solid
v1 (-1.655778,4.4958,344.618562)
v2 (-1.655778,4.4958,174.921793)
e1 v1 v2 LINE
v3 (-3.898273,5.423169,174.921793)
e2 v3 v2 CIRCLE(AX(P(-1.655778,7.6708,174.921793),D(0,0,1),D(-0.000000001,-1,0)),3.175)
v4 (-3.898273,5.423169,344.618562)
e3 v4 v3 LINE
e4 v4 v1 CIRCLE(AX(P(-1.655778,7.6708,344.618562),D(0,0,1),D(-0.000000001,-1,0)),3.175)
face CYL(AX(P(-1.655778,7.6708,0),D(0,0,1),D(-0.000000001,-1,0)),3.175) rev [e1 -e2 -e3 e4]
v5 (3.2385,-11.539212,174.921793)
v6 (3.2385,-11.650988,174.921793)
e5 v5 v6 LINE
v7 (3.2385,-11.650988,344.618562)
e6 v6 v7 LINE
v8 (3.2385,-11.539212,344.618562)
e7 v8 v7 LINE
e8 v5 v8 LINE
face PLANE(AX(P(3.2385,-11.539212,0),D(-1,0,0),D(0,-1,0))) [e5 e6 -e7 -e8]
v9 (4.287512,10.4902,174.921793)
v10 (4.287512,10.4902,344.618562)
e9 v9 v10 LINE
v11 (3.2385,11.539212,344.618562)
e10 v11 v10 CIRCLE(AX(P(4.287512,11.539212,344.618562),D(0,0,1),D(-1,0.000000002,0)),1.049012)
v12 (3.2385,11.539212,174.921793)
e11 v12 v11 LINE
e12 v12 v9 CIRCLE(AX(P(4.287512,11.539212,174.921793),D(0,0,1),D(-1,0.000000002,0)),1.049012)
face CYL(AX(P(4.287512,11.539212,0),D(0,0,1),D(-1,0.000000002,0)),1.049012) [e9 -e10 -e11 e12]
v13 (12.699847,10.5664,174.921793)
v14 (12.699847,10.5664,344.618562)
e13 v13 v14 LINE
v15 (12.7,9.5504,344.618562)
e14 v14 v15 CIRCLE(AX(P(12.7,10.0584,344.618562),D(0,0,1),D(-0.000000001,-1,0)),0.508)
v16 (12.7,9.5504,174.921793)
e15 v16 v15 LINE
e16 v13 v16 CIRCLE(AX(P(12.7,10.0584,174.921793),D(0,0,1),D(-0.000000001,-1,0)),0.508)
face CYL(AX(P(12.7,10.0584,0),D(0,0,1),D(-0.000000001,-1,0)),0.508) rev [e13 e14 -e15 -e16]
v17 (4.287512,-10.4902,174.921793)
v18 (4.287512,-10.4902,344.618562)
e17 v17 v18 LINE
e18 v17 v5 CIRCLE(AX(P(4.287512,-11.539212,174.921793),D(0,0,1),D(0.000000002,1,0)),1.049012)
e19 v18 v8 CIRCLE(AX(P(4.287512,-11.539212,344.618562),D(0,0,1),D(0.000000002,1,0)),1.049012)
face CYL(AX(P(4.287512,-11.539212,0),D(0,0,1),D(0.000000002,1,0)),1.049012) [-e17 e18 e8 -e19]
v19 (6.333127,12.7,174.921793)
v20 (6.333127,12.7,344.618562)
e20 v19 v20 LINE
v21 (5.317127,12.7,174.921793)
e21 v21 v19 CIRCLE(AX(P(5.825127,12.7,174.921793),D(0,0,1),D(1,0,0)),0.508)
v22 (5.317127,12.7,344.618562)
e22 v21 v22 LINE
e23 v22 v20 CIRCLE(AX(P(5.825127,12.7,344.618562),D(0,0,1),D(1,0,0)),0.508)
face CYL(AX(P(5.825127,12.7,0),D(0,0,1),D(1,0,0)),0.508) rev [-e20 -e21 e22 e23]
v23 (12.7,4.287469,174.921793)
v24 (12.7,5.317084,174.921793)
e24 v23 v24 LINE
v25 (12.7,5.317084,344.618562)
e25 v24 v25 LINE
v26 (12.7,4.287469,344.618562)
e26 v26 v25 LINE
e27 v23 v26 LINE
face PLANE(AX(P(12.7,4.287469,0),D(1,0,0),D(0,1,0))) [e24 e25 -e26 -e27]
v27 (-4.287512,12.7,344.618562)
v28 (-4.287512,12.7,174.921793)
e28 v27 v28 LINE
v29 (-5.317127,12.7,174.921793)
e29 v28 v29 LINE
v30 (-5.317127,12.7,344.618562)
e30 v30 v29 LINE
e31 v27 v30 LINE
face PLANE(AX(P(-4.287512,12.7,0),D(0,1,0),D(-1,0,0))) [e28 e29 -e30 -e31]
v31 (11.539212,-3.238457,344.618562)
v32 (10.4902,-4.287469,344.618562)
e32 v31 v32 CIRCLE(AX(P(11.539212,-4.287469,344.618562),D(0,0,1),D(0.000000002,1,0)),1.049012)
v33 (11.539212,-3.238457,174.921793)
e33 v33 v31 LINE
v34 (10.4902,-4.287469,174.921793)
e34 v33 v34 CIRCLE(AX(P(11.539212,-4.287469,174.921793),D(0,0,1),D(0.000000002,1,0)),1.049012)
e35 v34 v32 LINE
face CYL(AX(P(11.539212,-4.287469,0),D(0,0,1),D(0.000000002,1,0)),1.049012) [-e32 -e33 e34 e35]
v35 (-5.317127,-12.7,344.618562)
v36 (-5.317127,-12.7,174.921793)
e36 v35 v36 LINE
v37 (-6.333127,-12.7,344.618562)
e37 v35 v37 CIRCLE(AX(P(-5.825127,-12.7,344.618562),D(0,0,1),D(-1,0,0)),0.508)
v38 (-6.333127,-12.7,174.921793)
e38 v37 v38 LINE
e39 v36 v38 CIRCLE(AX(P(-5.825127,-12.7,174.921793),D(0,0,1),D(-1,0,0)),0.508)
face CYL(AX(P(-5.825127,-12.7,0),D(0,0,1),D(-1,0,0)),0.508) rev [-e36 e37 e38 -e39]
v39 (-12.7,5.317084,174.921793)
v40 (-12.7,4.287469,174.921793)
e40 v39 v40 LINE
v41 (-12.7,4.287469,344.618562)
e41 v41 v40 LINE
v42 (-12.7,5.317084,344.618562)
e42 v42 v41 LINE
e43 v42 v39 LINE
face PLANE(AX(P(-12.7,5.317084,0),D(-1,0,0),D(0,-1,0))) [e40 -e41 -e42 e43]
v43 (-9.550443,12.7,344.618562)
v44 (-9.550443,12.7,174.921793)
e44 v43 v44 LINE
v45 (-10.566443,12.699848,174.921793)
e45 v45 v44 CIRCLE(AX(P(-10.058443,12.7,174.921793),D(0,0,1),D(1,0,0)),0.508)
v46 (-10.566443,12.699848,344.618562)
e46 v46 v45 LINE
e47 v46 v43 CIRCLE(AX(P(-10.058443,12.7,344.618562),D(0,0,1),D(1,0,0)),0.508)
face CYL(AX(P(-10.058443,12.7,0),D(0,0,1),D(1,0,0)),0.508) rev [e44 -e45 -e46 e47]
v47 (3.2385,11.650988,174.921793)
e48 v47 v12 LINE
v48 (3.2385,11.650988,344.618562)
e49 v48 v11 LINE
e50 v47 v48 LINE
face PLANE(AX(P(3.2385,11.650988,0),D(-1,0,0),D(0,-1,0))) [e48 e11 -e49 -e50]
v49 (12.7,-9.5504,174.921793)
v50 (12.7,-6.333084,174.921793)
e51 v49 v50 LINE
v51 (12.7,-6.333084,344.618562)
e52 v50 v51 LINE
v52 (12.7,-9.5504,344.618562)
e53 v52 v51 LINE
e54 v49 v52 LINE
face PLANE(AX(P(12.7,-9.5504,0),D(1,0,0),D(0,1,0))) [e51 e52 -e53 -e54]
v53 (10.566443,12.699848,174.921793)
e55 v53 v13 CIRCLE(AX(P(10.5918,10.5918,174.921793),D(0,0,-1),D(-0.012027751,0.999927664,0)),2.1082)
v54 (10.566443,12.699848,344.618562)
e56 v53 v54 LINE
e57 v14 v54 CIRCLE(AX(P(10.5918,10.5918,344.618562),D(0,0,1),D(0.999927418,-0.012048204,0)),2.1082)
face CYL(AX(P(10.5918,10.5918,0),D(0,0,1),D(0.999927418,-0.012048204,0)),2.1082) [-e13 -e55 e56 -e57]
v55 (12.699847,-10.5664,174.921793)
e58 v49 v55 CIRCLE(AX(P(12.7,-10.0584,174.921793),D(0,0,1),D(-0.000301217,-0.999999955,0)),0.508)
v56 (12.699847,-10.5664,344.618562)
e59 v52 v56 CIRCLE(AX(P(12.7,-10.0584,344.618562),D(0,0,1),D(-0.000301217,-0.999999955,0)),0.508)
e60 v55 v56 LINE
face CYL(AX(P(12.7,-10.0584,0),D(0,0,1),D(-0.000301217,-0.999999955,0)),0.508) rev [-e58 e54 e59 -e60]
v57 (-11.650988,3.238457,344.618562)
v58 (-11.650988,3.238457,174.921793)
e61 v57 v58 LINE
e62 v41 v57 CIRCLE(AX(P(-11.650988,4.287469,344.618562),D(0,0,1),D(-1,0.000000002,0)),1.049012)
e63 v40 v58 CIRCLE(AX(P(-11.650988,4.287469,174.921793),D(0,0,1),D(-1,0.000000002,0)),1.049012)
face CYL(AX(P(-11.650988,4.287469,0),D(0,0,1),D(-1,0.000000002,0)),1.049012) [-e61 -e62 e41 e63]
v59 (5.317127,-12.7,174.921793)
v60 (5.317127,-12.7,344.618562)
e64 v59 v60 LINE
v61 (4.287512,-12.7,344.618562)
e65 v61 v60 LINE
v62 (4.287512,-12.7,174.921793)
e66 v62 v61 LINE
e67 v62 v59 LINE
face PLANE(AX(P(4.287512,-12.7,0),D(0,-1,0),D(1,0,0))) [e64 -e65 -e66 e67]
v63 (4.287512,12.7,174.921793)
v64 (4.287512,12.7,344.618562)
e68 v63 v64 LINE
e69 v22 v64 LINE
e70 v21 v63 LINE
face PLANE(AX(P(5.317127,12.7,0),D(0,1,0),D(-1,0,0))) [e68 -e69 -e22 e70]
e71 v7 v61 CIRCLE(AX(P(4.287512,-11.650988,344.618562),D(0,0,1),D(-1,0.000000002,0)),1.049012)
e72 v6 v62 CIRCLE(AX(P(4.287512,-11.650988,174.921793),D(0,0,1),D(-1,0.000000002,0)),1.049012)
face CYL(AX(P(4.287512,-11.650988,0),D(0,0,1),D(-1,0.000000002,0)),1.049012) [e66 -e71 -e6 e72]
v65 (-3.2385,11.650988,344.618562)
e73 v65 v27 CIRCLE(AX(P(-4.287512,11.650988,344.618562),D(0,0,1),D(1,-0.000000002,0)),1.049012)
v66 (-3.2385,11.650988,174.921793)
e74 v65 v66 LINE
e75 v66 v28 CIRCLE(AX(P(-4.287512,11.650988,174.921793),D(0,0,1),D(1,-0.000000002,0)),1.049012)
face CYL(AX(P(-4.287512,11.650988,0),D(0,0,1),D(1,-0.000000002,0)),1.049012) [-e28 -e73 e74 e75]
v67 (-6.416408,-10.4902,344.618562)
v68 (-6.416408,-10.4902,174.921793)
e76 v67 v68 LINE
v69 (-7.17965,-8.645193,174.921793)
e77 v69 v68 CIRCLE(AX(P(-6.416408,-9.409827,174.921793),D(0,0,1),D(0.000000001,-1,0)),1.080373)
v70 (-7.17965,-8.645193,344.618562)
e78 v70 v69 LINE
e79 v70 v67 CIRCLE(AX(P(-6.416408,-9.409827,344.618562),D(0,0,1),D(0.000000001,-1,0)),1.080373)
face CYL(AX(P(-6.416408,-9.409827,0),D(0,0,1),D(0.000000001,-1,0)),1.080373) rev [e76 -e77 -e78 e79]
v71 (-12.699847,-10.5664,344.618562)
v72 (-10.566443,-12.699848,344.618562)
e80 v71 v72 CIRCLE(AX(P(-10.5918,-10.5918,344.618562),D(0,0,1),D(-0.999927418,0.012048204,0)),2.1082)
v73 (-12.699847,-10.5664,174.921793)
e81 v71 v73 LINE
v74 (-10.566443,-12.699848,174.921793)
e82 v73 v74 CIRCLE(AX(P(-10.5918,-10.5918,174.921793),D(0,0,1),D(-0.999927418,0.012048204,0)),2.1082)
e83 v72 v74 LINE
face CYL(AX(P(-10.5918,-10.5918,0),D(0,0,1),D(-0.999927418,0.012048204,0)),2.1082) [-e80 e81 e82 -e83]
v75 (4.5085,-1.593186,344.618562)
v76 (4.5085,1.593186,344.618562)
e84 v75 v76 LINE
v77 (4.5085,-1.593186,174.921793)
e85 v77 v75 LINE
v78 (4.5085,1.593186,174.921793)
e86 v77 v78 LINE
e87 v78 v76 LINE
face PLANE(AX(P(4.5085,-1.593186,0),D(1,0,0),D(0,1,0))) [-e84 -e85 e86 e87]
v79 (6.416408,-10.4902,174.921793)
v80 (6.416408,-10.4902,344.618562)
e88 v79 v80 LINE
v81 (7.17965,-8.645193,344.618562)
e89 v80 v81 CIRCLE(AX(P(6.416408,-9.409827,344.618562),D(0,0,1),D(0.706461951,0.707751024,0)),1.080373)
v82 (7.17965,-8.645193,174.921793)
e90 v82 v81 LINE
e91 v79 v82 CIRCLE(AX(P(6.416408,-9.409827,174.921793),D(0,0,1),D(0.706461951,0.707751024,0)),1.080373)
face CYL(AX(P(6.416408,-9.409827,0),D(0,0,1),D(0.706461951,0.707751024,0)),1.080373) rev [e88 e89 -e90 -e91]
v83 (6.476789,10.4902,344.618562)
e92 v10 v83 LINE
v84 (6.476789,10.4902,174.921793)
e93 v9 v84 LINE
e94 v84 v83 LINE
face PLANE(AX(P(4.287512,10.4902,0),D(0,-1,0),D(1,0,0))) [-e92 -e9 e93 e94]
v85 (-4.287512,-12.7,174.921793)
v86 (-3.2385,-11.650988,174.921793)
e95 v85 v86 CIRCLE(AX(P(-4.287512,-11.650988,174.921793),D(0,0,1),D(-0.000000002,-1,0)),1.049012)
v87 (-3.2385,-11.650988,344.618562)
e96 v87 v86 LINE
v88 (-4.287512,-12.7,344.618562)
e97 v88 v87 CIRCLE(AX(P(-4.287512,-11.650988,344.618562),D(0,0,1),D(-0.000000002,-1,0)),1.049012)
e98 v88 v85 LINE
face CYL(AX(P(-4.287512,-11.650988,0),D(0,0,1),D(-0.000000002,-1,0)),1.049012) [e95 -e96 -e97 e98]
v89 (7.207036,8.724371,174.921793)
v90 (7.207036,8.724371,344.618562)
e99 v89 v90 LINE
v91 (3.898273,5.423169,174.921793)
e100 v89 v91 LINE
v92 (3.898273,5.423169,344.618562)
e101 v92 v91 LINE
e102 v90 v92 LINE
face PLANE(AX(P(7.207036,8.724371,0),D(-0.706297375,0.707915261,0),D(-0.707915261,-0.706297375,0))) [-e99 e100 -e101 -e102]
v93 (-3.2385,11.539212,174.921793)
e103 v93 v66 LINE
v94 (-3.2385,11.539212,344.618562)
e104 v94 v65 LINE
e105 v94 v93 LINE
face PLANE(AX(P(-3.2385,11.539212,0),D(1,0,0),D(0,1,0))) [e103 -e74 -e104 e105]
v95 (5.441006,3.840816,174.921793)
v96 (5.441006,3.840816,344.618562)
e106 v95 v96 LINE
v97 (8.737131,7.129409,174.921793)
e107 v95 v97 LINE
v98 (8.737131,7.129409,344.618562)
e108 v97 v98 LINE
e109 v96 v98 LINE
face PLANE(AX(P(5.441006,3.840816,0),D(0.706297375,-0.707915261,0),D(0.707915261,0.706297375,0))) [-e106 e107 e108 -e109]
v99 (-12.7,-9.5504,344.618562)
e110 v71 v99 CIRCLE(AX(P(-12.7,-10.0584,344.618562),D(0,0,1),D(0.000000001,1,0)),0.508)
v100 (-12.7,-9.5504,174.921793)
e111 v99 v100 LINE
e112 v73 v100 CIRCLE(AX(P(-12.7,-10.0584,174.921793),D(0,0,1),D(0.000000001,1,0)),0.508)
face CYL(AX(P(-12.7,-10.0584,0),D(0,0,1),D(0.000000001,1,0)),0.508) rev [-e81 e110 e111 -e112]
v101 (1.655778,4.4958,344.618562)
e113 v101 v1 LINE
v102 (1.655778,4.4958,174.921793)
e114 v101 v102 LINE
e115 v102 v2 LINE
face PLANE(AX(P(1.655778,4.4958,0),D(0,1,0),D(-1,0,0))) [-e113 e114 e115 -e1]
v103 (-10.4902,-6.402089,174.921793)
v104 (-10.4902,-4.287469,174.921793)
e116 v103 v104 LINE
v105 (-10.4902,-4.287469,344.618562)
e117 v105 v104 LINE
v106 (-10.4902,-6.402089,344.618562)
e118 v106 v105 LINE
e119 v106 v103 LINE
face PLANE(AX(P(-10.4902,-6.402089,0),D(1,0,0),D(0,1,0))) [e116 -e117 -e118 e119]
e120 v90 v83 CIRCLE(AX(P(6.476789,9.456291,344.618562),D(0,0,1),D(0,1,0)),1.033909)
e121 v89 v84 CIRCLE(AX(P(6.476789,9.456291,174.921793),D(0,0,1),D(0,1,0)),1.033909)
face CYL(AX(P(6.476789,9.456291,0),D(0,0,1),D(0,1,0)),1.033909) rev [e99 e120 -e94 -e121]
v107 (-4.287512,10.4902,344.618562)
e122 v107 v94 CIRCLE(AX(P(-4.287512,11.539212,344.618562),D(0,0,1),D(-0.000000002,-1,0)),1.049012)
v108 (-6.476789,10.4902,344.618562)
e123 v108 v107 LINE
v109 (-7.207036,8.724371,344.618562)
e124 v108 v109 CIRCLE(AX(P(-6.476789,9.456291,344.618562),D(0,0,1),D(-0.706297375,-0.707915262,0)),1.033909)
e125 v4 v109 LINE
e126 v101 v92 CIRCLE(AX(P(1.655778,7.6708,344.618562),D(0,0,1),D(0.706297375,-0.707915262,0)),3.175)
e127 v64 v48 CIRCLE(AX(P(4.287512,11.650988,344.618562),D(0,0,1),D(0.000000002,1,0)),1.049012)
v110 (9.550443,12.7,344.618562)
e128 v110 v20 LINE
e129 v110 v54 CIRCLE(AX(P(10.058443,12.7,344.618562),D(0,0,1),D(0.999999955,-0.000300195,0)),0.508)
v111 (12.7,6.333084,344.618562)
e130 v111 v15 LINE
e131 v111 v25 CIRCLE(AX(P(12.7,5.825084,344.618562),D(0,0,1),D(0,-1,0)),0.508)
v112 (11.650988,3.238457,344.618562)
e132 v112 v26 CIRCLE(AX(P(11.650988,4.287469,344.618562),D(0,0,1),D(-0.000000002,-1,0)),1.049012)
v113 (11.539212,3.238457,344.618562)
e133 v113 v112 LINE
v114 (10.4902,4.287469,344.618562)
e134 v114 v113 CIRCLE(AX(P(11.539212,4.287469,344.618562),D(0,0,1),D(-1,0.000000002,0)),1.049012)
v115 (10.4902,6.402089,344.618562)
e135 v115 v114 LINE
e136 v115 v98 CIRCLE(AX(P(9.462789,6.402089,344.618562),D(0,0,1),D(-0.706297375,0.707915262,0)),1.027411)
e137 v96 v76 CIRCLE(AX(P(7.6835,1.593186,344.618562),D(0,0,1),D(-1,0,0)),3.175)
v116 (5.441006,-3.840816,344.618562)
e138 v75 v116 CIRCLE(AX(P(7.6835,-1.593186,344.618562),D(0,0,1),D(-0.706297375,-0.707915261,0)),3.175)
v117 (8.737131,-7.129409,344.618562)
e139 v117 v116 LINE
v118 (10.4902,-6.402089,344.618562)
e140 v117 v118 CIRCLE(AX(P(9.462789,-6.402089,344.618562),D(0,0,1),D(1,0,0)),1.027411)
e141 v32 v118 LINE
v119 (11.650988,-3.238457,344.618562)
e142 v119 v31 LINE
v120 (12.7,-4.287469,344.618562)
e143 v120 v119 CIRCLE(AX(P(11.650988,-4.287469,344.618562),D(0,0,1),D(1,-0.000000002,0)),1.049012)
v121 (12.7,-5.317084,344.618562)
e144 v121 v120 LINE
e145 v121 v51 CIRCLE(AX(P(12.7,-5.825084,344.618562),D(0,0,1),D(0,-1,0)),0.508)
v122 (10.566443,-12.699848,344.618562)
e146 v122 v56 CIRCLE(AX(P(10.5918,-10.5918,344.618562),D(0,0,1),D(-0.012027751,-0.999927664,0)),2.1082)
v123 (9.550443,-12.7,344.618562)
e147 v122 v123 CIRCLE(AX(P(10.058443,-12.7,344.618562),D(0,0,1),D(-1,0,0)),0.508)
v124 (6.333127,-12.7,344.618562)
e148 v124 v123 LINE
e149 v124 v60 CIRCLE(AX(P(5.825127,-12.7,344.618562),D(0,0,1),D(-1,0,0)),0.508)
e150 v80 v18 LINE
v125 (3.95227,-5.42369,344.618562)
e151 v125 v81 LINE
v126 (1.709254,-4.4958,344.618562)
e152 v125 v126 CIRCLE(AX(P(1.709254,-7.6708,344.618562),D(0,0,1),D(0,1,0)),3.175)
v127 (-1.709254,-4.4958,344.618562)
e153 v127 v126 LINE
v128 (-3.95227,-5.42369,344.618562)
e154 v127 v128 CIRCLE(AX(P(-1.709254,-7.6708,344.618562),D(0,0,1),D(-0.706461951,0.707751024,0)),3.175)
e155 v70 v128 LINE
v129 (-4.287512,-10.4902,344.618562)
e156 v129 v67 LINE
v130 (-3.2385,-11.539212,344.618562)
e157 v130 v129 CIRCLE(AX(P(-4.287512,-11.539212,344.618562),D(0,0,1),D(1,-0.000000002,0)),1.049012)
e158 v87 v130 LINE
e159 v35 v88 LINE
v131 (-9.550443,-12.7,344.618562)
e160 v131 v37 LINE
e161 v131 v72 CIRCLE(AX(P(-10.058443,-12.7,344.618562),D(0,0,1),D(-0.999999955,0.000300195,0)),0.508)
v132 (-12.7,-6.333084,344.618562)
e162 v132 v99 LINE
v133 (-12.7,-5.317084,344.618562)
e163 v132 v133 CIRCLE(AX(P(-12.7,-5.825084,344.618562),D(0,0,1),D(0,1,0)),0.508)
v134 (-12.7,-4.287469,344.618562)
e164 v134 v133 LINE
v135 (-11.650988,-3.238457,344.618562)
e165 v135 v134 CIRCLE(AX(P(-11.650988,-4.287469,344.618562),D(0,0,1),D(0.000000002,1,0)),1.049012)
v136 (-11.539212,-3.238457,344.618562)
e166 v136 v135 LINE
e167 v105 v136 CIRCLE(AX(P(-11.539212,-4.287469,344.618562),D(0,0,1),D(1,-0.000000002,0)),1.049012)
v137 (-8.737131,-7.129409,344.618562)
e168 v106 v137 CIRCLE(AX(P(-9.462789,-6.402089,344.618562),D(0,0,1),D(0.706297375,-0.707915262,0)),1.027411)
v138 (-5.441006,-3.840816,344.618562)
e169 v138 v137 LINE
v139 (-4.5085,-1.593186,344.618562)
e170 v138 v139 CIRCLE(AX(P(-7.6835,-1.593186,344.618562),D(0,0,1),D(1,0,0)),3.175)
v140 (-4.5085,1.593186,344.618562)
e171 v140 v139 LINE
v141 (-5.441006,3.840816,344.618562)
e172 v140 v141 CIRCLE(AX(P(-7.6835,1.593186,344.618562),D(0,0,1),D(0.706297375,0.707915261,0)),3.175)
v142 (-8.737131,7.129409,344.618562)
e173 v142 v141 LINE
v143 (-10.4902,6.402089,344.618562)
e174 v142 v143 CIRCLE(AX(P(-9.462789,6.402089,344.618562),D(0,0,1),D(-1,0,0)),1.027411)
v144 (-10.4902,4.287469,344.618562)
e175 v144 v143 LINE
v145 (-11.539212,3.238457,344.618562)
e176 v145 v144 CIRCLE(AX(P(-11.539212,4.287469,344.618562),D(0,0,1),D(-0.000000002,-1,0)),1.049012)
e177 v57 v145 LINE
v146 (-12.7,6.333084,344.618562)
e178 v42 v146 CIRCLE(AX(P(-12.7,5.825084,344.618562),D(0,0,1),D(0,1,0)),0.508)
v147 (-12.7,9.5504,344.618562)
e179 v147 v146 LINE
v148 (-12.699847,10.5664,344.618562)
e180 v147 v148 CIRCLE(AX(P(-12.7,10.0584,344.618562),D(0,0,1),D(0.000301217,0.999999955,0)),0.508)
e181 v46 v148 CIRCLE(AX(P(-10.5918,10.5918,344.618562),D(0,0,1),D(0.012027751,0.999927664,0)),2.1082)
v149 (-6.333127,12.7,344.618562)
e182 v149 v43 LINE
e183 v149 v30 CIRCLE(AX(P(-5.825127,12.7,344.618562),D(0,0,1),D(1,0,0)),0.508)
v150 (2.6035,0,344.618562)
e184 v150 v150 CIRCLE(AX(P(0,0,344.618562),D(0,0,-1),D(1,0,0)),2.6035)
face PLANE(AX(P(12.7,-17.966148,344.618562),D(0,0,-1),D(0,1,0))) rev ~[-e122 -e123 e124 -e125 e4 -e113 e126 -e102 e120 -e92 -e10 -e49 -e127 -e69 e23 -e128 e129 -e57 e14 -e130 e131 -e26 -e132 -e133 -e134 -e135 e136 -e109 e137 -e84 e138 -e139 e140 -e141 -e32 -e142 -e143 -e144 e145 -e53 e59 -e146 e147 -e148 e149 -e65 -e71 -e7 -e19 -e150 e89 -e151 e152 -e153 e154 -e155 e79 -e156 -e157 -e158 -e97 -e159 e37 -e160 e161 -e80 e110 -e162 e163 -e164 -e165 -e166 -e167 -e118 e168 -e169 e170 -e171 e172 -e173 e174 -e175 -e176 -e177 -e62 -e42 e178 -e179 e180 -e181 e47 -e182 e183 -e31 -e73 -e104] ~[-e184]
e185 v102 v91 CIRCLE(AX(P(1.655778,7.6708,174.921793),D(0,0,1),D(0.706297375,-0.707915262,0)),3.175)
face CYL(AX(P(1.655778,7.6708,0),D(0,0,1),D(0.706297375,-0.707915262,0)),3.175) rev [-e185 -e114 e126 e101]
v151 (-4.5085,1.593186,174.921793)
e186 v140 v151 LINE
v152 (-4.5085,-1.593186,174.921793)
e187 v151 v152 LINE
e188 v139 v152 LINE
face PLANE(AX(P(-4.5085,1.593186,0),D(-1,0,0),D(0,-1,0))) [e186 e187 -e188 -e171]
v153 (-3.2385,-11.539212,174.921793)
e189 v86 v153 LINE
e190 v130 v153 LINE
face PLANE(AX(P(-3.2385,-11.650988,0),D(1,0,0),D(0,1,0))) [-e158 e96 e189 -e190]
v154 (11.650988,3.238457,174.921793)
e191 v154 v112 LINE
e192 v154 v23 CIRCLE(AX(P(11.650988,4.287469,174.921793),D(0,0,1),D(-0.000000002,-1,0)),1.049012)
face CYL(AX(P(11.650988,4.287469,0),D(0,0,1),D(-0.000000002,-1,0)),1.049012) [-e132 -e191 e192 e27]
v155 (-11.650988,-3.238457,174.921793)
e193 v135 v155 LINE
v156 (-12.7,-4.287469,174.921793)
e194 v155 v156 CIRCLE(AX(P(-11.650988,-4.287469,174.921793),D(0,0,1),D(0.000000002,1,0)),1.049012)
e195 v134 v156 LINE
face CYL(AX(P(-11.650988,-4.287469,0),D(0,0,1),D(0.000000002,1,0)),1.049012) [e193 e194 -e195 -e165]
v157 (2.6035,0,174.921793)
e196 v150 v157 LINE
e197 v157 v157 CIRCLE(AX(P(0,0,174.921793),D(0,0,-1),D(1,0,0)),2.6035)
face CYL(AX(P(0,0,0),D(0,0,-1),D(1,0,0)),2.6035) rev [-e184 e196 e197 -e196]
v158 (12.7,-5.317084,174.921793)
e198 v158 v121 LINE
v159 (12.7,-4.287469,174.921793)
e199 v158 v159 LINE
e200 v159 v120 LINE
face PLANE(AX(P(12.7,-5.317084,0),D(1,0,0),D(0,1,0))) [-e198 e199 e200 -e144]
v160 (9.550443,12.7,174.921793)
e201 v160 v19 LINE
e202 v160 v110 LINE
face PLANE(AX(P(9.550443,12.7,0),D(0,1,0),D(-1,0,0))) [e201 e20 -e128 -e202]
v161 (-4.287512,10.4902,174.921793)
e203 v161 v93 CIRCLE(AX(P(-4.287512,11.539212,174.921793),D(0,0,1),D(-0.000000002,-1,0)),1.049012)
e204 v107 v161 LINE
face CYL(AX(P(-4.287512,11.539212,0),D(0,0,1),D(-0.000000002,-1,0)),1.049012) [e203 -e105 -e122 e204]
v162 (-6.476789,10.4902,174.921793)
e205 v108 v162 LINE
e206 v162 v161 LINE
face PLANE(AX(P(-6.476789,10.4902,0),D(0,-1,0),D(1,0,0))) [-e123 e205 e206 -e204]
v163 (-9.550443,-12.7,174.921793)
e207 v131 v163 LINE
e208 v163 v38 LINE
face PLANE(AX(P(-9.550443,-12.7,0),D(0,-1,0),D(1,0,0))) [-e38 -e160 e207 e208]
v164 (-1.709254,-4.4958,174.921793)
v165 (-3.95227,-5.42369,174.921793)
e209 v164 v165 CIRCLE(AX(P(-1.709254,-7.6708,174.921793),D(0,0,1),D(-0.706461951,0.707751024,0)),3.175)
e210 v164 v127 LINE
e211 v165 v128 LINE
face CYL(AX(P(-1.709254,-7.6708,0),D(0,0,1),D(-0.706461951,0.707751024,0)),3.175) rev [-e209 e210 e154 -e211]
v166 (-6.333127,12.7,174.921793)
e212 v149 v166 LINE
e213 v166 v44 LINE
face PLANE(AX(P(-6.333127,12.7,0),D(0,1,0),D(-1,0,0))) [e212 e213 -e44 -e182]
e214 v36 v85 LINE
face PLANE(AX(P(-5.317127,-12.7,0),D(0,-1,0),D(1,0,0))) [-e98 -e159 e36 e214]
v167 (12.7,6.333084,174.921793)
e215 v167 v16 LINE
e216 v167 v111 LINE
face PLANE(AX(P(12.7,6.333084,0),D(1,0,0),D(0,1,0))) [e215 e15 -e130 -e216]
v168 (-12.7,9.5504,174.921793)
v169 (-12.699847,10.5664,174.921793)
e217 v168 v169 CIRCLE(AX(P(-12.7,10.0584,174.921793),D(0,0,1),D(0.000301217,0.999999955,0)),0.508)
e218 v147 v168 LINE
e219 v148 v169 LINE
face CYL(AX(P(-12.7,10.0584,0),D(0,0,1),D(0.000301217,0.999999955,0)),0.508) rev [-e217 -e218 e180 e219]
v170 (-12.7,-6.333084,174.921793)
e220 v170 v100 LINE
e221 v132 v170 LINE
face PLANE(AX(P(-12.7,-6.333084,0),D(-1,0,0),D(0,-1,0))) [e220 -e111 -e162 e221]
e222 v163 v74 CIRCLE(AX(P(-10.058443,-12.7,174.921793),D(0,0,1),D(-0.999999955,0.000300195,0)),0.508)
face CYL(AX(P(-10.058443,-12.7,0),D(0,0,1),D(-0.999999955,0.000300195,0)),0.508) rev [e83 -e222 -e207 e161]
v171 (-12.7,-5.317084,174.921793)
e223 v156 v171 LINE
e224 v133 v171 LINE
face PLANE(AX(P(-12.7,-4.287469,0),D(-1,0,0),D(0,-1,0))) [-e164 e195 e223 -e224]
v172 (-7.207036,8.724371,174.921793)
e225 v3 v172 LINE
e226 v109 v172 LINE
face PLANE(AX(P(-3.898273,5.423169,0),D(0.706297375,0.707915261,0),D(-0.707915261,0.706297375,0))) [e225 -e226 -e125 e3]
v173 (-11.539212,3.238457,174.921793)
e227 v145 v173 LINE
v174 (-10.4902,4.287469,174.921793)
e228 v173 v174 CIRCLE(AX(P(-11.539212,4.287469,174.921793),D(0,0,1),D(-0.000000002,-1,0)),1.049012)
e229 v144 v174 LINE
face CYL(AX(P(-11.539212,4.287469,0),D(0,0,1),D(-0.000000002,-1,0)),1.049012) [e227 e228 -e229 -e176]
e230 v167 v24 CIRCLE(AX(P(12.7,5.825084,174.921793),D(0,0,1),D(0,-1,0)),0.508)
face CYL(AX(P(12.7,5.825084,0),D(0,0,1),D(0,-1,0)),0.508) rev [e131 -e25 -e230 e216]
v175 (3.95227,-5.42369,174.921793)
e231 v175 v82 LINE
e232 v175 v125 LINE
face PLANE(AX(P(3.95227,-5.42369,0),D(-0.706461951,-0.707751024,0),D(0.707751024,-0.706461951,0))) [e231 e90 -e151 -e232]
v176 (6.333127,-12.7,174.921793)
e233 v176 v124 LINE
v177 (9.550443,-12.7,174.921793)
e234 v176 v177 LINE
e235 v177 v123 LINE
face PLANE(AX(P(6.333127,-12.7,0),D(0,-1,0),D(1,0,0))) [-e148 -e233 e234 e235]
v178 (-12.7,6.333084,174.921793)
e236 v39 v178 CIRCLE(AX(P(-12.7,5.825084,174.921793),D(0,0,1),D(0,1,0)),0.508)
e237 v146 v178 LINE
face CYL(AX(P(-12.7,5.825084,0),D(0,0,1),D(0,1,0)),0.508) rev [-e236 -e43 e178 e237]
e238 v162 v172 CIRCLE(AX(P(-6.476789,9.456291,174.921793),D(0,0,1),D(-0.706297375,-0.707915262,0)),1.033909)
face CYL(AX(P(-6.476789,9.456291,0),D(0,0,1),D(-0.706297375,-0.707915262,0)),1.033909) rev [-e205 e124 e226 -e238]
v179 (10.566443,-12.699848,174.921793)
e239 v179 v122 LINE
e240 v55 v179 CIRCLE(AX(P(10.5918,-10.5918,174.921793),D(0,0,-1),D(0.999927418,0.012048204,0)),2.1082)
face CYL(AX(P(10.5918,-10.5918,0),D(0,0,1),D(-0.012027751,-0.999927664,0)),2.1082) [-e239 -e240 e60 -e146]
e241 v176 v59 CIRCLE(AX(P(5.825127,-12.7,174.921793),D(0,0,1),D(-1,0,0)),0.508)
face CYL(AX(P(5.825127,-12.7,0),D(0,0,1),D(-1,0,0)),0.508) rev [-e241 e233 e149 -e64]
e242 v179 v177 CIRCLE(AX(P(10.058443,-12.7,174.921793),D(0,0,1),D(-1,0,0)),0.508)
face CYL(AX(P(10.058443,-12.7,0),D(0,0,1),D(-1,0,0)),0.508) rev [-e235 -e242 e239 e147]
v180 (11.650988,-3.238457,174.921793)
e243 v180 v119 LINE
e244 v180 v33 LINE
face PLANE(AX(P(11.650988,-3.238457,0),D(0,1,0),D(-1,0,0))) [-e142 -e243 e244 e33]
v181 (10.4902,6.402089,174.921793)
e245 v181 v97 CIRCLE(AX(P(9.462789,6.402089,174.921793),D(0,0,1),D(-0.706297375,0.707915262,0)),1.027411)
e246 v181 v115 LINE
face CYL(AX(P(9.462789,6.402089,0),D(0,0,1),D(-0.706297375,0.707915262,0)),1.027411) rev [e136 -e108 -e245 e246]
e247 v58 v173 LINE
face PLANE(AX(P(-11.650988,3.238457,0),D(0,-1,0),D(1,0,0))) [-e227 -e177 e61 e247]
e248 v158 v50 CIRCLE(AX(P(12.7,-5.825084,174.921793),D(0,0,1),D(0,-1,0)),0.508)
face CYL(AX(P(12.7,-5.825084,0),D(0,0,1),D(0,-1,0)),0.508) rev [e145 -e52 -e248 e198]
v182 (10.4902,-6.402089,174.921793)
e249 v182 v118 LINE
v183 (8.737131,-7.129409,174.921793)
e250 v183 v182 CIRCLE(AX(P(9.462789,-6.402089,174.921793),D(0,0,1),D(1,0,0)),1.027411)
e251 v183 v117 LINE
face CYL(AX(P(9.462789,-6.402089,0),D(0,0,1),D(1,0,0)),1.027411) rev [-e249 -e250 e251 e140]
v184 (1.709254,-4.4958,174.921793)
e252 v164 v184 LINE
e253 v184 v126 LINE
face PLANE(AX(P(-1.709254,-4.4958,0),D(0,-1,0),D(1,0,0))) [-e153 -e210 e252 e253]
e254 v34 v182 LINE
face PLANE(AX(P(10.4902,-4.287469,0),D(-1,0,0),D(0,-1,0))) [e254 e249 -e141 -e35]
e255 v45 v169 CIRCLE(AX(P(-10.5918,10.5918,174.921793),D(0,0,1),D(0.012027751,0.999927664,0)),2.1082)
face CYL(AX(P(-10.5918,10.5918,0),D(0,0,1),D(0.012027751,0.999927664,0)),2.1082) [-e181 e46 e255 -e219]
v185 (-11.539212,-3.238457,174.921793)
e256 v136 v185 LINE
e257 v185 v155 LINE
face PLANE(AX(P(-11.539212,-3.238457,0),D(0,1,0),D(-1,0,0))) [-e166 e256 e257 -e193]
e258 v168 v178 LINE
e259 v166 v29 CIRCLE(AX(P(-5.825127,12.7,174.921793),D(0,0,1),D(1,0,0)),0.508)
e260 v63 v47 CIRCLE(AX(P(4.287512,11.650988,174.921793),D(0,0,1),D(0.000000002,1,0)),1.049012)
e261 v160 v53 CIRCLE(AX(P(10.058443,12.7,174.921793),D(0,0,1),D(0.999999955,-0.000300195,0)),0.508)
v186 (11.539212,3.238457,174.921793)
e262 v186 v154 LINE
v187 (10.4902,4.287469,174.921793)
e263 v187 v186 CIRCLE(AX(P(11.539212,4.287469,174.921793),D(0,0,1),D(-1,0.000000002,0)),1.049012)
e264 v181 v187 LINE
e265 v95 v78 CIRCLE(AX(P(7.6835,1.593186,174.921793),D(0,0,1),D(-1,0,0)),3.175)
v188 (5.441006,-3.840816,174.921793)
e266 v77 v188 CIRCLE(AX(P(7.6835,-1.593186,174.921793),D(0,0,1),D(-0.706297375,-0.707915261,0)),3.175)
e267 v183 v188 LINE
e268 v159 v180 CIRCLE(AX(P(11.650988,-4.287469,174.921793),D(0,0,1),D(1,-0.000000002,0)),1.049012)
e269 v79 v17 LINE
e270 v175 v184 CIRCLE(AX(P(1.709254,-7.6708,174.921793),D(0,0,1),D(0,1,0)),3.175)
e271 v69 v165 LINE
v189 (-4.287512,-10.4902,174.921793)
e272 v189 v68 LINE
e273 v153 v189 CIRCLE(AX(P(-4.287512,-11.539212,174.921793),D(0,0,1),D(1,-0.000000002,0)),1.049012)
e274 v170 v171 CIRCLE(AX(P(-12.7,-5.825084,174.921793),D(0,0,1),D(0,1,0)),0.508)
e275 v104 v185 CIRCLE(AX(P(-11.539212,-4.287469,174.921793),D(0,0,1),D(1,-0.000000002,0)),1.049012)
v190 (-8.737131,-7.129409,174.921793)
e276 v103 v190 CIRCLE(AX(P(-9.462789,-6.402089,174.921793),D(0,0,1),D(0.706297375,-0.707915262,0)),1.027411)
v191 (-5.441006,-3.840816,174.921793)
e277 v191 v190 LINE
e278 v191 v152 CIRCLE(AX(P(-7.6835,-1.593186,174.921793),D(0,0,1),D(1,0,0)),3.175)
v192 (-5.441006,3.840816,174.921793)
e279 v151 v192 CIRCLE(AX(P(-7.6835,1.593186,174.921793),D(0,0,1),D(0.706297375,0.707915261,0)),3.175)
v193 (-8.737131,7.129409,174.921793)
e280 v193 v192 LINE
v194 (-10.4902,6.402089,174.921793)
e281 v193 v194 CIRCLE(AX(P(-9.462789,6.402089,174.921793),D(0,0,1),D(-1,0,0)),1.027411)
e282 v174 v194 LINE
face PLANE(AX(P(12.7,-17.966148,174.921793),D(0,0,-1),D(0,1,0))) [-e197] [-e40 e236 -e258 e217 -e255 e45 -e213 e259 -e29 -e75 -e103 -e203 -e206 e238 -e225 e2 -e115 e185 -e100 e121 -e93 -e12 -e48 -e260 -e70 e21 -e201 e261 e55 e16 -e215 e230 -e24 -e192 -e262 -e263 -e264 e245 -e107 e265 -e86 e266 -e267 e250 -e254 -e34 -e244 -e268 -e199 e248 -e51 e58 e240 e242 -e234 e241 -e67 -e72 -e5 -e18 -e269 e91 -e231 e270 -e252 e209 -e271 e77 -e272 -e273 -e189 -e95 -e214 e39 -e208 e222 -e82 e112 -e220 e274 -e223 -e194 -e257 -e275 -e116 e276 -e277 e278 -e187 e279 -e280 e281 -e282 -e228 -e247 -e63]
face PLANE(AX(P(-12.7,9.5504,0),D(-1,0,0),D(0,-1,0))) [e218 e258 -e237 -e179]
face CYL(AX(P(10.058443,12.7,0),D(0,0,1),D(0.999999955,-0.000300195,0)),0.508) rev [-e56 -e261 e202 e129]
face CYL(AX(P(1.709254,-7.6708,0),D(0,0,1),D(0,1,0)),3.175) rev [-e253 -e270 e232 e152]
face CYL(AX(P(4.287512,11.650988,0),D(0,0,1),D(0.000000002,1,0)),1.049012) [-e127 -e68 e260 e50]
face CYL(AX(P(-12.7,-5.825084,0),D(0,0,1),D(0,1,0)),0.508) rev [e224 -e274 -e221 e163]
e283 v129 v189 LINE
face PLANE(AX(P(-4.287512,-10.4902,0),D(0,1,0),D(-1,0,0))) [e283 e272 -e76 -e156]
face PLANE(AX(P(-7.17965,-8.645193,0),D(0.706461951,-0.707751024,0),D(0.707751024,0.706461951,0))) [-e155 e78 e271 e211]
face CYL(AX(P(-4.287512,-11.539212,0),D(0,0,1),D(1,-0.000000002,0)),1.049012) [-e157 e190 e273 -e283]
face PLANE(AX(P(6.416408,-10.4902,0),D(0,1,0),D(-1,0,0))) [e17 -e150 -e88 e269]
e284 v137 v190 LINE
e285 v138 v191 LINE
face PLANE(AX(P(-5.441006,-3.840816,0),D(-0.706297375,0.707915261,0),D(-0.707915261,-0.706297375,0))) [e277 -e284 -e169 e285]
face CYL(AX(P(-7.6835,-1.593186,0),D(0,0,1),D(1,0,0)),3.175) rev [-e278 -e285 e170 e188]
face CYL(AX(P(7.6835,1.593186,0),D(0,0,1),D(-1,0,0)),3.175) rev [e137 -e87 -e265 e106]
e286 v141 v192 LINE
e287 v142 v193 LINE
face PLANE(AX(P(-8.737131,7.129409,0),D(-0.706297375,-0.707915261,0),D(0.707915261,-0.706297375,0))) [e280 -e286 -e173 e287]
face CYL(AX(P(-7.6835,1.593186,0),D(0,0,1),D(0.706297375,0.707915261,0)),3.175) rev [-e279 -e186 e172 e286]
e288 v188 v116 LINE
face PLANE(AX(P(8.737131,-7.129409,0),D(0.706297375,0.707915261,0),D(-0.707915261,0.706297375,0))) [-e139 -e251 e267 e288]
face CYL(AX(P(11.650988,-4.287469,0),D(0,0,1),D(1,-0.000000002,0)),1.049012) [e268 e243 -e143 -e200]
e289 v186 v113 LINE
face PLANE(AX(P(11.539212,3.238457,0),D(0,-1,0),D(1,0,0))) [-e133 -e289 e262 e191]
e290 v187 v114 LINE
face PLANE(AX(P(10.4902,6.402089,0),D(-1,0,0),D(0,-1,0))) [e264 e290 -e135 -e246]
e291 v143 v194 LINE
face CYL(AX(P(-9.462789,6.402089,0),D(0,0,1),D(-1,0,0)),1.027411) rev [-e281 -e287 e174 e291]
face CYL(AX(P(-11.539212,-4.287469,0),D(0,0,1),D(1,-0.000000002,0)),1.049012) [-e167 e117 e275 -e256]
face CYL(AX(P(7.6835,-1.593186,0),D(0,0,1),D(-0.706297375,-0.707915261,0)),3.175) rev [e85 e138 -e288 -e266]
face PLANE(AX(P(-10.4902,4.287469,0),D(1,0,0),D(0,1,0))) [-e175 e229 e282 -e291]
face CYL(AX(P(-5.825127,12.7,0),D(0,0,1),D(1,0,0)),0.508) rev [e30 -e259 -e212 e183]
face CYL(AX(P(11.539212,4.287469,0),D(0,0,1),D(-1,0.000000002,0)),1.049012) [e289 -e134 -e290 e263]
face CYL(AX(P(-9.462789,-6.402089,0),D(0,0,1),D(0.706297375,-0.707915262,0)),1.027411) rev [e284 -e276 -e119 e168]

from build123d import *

# Parameters (mm, degrees)
SKETCH1_R           = 2.6035
BOSS_EXTRUDE1_DEPTH = 914.4
SKETCH2_W           = 573.8387108
SKETCH2_H           = 34.760821459
SKETCH2_W_2         = 1099.97900941
SKETCH2_H_2         = 36.169365112
CUT_EXTRUDE1_DEPTH  = 27.432


with BuildPart() as part:
    # Sketch1 → Boss-Extrude1 (new body, symmetric)
    with BuildSketch(Plane.XY):
        with BuildLine():
            Line((-7.179650497, -8.645192506), (-3.952270251, -5.423690499))
            ThreePointArc((-3.952270251, -5.423690499), (-2.922936451, -4.736929036), (-1.709253557, -4.4958))
            Line((-1.709253557, -4.4958), (1.709253557, -4.4958))
            ThreePointArc((1.709253557, -4.4958), (2.922936451, -4.736929036), (3.952270251, -5.423690499))
            Line((3.952270251, -5.423690499), (7.179650497, -8.645192506))
            ThreePointArc((7.179650497, -8.645192506), (7.41473083, -9.822813117), (6.416408329, -10.4902))
            Line((6.416408329, -10.4902), (4.287512407, -10.4902))
            ThreePointArc((4.287512407, -10.4902), (3.54574862, -10.79744862), (3.2385, -11.539212407))
            Line((3.2385, -11.539212407), (3.2385, -11.650987593))
            ThreePointArc((3.2385, -11.650987593), (3.54574862, -12.39275138), (4.287512407, -12.7))
            Line((4.287512407, -12.7), (5.317126718, -12.7))
            ThreePointArc((5.317126718, -12.7), (5.825126718, -12.192), (6.333126718, -12.7))
            Line((6.333126718, -12.7), (9.550443118, -12.7))
            ThreePointArc((9.550443118, -12.7), (10.058366869, -12.192000006), (10.566443095, -12.699847501))
            ThreePointArc((10.566443095, -12.699847501), (12.082537762, -12.08250727), (12.699846982, -10.566399977))
            ThreePointArc((12.699846982, -10.566399977), (12.192000006, -10.058323491), (12.7, -9.5504))
            Line((12.7, -9.5504), (12.7, -6.3330836))
            ThreePointArc((12.7, -6.3330836), (12.192, -5.8250836), (12.7, -5.3170836))
            Line((12.7, -5.3170836), (12.7, -4.287469289))
            ThreePointArc((12.7, -4.287469289), (12.39275138, -3.545705502), (11.650987593, -3.238456882))
            Line((11.650987593, -3.238456882), (11.539212407, -3.238456882))
            ThreePointArc((11.539212407, -3.238456882), (10.79744862, -3.545705502), (10.4902, -4.287469289))
            Line((10.4902, -4.287469289), (10.4902, -6.402089023))
            ThreePointArc((10.4902, -6.402089023), (9.856505071, -7.351067942), (8.737131347, -7.129408934))
            Line((8.737131347, -7.129408934), (5.441005833, -3.840816462))
            ThreePointArc((5.441005833, -3.840816462), (4.750877967, -2.809883091), (4.5085, -1.593185507))
            Line((4.5085, -1.593185507), (4.5085, 1.593185507))
            ThreePointArc((4.5085, 1.593185507), (4.750877967, 2.809883091), (5.441005833, 3.840816462))
            Line((5.441005833, 3.840816462), (8.737131347, 7.129408934))
            ThreePointArc((8.737131347, 7.129408934), (9.856505071, 7.351067942), (10.4902, 6.402089023))
            Line((10.4902, 6.402089023), (10.4902, 4.287469289))
            ThreePointArc((10.4902, 4.287469289), (10.79744862, 3.545705502), (11.539212407, 3.238456882))
            Line((11.539212407, 3.238456882), (11.650987593, 3.238456882))
            ThreePointArc((11.650987593, 3.238456882), (12.39275138, 3.545705502), (12.7, 4.287469289))
            Line((12.7, 4.287469289), (12.7, 5.3170836))
            ThreePointArc((12.7, 5.3170836), (12.192, 5.8250836), (12.7, 6.3330836))
            Line((12.7, 6.3330836), (12.7, 9.5504))
            ThreePointArc((12.7, 9.5504), (12.192000006, 10.058323491), (12.699846982, 10.566399977))
            ThreePointArc((12.699846982, 10.566399977), (12.082537762, 12.08250727), (10.566443095, 12.699847501))
            ThreePointArc((10.566443095, 12.699847501), (10.058366869, 12.192000006), (9.550443118, 12.7))
            Line((9.550443118, 12.7), (6.333126718, 12.7))
            ThreePointArc((6.333126718, 12.7), (5.825126718, 12.192), (5.317126718, 12.7))
            Line((5.317126718, 12.7), (4.287512407, 12.7))
            ThreePointArc((4.287512407, 12.7), (3.54574862, 12.39275138), (3.2385, 11.650987593))
            Line((3.2385, 11.650987593), (3.2385, 11.539212407))
            ThreePointArc((3.2385, 11.539212407), (3.54574862, 10.79744862), (4.287512407, 10.4902))
            Line((4.287512407, 10.4902), (6.476788598, 10.4902))
            ThreePointArc((6.476788598, 10.4902), (7.432222385, 9.85140422), (7.207036008, 8.724370562))
            Line((7.207036008, 8.724370562), (3.898272566, 5.423169045))
            ThreePointArc((3.898272566, 5.423169045), (2.869120213, 4.736787962), (1.655778399, 4.4958))
            Line((1.655778399, 4.4958), (-1.655778399, 4.4958))
            ThreePointArc((-1.655778399, 4.4958), (-2.869120213, 4.736787962), (-3.898272566, 5.423169045))
            Line((-3.898272566, 5.423169045), (-7.207036008, 8.724370562))
            ThreePointArc((-7.207036008, 8.724370562), (-7.432222385, 9.85140422), (-6.476788598, 10.4902))
            Line((-6.476788598, 10.4902), (-4.287512407, 10.4902))
            ThreePointArc((-4.287512407, 10.4902), (-3.54574862, 10.79744862), (-3.2385, 11.539212407))
            Line((-3.2385, 11.539212407), (-3.2385, 11.650987593))
            ThreePointArc((-3.2385, 11.650987593), (-3.54574862, 12.39275138), (-4.287512407, 12.7))
            Line((-4.287512407, 12.7), (-5.317126718, 12.7))
            ThreePointArc((-5.317126718, 12.7), (-5.825126718, 12.192), (-6.333126718, 12.7))
            Line((-6.333126718, 12.7), (-9.550443118, 12.7))
            ThreePointArc((-9.550443118, 12.7), (-10.058366869, 12.192000006), (-10.566443095, 12.699847501))
            ThreePointArc((-10.566443095, 12.699847501), (-12.082537762, 12.08250727), (-12.699846982, 10.566399977))
            ThreePointArc((-12.699846982, 10.566399977), (-12.192000006, 10.058323491), (-12.7, 9.5504))
            Line((-12.7, 9.5504), (-12.7, 6.3330836))
            ThreePointArc((-12.7, 6.3330836), (-12.192, 5.8250836), (-12.7, 5.3170836))
            Line((-12.7, 5.3170836), (-12.7, 4.287469289))
            ThreePointArc((-12.7, 4.287469289), (-12.39275138, 3.545705502), (-11.650987593, 3.238456882))
            Line((-11.650987593, 3.238456882), (-11.539212407, 3.238456882))
            ThreePointArc((-11.539212407, 3.238456882), (-10.79744862, 3.545705502), (-10.4902, 4.287469289))
            Line((-10.4902, 4.287469289), (-10.4902, 6.402089023))
            ThreePointArc((-10.4902, 6.402089023), (-9.856505071, 7.351067942), (-8.737131347, 7.129408934))
            Line((-8.737131347, 7.129408934), (-5.441005833, 3.840816462))
            ThreePointArc((-5.441005833, 3.840816462), (-4.750877967, 2.809883091), (-4.5085, 1.593185507))
            Line((-4.5085, 1.593185507), (-4.5085, -1.593185507))
            ThreePointArc((-4.5085, -1.593185507), (-4.750877967, -2.809883091), (-5.441005833, -3.840816462))
            Line((-5.441005833, -3.840816462), (-8.737131347, -7.129408934))
            ThreePointArc((-8.737131347, -7.129408934), (-9.856505071, -7.351067942), (-10.4902, -6.402089023))
            Line((-10.4902, -6.402089023), (-10.4902, -4.287469289))
            ThreePointArc((-10.4902, -4.287469289), (-10.79744862, -3.545705502), (-11.539212407, -3.238456882))
            Line((-11.539212407, -3.238456882), (-11.650987593, -3.238456882))
            ThreePointArc((-11.650987593, -3.238456882), (-12.39275138, -3.545705502), (-12.7, -4.287469289))
            Line((-12.7, -4.287469289), (-12.7, -5.3170836))
            ThreePointArc((-12.7, -5.3170836), (-12.192, -5.8250836), (-12.7, -6.3330836))
            Line((-12.7, -6.3330836), (-12.7, -9.5504))
            ThreePointArc((-12.7, -9.5504), (-12.192000006, -10.058323491), (-12.699846982, -10.566399977))
            ThreePointArc((-12.699846982, -10.566399977), (-12.082537762, -12.08250727), (-10.566443095, -12.699847501))
            ThreePointArc((-10.566443095, -12.699847501), (-10.058366869, -12.192000006), (-9.550443118, -12.7))
            Line((-9.550443118, -12.7), (-6.333126718, -12.7))
            ThreePointArc((-6.333126718, -12.7), (-5.825126718, -12.192), (-5.317126718, -12.7))
            Line((-5.317126718, -12.7), (-4.287512407, -12.7))
            ThreePointArc((-4.287512407, -12.7), (-3.54574862, -12.39275138), (-3.2385, -11.650987593))
            Line((-3.2385, -11.650987593), (-3.2385, -11.539212407))
            ThreePointArc((-3.2385, -11.539212407), (-3.54574862, -10.79744862), (-4.287512407, -10.4902))
            Line((-4.287512407, -10.4902), (-6.416408329, -10.4902))
            ThreePointArc((-6.416408329, -10.4902), (-7.41473083, -9.822813117), (-7.179650497, -8.645192506))
        make_face()
        Circle(SKETCH1_R, mode=Mode.SUBTRACT)
    extrude(amount=BOSS_EXTRUDE1_DEPTH, both=True)

    # Sketch2 → Cut-Extrude1 (cut)
    with BuildSketch(Plane(origin=(12.7, 0, 0), x_dir=(0, 0, -1), z_dir=(1, 0, 0))):
        with Locations((-631.537917207, -0.58573738)):
            Rectangle(SKETCH2_W, SKETCH2_H)
        with Locations((375.067711741, 0.118534447)):
            Rectangle(SKETCH2_W_2, SKETCH2_H_2)
    extrude(amount=-CUT_EXTRUDE1_DEPTH, mode=Mode.SUBTRACT)


solid = part.part
